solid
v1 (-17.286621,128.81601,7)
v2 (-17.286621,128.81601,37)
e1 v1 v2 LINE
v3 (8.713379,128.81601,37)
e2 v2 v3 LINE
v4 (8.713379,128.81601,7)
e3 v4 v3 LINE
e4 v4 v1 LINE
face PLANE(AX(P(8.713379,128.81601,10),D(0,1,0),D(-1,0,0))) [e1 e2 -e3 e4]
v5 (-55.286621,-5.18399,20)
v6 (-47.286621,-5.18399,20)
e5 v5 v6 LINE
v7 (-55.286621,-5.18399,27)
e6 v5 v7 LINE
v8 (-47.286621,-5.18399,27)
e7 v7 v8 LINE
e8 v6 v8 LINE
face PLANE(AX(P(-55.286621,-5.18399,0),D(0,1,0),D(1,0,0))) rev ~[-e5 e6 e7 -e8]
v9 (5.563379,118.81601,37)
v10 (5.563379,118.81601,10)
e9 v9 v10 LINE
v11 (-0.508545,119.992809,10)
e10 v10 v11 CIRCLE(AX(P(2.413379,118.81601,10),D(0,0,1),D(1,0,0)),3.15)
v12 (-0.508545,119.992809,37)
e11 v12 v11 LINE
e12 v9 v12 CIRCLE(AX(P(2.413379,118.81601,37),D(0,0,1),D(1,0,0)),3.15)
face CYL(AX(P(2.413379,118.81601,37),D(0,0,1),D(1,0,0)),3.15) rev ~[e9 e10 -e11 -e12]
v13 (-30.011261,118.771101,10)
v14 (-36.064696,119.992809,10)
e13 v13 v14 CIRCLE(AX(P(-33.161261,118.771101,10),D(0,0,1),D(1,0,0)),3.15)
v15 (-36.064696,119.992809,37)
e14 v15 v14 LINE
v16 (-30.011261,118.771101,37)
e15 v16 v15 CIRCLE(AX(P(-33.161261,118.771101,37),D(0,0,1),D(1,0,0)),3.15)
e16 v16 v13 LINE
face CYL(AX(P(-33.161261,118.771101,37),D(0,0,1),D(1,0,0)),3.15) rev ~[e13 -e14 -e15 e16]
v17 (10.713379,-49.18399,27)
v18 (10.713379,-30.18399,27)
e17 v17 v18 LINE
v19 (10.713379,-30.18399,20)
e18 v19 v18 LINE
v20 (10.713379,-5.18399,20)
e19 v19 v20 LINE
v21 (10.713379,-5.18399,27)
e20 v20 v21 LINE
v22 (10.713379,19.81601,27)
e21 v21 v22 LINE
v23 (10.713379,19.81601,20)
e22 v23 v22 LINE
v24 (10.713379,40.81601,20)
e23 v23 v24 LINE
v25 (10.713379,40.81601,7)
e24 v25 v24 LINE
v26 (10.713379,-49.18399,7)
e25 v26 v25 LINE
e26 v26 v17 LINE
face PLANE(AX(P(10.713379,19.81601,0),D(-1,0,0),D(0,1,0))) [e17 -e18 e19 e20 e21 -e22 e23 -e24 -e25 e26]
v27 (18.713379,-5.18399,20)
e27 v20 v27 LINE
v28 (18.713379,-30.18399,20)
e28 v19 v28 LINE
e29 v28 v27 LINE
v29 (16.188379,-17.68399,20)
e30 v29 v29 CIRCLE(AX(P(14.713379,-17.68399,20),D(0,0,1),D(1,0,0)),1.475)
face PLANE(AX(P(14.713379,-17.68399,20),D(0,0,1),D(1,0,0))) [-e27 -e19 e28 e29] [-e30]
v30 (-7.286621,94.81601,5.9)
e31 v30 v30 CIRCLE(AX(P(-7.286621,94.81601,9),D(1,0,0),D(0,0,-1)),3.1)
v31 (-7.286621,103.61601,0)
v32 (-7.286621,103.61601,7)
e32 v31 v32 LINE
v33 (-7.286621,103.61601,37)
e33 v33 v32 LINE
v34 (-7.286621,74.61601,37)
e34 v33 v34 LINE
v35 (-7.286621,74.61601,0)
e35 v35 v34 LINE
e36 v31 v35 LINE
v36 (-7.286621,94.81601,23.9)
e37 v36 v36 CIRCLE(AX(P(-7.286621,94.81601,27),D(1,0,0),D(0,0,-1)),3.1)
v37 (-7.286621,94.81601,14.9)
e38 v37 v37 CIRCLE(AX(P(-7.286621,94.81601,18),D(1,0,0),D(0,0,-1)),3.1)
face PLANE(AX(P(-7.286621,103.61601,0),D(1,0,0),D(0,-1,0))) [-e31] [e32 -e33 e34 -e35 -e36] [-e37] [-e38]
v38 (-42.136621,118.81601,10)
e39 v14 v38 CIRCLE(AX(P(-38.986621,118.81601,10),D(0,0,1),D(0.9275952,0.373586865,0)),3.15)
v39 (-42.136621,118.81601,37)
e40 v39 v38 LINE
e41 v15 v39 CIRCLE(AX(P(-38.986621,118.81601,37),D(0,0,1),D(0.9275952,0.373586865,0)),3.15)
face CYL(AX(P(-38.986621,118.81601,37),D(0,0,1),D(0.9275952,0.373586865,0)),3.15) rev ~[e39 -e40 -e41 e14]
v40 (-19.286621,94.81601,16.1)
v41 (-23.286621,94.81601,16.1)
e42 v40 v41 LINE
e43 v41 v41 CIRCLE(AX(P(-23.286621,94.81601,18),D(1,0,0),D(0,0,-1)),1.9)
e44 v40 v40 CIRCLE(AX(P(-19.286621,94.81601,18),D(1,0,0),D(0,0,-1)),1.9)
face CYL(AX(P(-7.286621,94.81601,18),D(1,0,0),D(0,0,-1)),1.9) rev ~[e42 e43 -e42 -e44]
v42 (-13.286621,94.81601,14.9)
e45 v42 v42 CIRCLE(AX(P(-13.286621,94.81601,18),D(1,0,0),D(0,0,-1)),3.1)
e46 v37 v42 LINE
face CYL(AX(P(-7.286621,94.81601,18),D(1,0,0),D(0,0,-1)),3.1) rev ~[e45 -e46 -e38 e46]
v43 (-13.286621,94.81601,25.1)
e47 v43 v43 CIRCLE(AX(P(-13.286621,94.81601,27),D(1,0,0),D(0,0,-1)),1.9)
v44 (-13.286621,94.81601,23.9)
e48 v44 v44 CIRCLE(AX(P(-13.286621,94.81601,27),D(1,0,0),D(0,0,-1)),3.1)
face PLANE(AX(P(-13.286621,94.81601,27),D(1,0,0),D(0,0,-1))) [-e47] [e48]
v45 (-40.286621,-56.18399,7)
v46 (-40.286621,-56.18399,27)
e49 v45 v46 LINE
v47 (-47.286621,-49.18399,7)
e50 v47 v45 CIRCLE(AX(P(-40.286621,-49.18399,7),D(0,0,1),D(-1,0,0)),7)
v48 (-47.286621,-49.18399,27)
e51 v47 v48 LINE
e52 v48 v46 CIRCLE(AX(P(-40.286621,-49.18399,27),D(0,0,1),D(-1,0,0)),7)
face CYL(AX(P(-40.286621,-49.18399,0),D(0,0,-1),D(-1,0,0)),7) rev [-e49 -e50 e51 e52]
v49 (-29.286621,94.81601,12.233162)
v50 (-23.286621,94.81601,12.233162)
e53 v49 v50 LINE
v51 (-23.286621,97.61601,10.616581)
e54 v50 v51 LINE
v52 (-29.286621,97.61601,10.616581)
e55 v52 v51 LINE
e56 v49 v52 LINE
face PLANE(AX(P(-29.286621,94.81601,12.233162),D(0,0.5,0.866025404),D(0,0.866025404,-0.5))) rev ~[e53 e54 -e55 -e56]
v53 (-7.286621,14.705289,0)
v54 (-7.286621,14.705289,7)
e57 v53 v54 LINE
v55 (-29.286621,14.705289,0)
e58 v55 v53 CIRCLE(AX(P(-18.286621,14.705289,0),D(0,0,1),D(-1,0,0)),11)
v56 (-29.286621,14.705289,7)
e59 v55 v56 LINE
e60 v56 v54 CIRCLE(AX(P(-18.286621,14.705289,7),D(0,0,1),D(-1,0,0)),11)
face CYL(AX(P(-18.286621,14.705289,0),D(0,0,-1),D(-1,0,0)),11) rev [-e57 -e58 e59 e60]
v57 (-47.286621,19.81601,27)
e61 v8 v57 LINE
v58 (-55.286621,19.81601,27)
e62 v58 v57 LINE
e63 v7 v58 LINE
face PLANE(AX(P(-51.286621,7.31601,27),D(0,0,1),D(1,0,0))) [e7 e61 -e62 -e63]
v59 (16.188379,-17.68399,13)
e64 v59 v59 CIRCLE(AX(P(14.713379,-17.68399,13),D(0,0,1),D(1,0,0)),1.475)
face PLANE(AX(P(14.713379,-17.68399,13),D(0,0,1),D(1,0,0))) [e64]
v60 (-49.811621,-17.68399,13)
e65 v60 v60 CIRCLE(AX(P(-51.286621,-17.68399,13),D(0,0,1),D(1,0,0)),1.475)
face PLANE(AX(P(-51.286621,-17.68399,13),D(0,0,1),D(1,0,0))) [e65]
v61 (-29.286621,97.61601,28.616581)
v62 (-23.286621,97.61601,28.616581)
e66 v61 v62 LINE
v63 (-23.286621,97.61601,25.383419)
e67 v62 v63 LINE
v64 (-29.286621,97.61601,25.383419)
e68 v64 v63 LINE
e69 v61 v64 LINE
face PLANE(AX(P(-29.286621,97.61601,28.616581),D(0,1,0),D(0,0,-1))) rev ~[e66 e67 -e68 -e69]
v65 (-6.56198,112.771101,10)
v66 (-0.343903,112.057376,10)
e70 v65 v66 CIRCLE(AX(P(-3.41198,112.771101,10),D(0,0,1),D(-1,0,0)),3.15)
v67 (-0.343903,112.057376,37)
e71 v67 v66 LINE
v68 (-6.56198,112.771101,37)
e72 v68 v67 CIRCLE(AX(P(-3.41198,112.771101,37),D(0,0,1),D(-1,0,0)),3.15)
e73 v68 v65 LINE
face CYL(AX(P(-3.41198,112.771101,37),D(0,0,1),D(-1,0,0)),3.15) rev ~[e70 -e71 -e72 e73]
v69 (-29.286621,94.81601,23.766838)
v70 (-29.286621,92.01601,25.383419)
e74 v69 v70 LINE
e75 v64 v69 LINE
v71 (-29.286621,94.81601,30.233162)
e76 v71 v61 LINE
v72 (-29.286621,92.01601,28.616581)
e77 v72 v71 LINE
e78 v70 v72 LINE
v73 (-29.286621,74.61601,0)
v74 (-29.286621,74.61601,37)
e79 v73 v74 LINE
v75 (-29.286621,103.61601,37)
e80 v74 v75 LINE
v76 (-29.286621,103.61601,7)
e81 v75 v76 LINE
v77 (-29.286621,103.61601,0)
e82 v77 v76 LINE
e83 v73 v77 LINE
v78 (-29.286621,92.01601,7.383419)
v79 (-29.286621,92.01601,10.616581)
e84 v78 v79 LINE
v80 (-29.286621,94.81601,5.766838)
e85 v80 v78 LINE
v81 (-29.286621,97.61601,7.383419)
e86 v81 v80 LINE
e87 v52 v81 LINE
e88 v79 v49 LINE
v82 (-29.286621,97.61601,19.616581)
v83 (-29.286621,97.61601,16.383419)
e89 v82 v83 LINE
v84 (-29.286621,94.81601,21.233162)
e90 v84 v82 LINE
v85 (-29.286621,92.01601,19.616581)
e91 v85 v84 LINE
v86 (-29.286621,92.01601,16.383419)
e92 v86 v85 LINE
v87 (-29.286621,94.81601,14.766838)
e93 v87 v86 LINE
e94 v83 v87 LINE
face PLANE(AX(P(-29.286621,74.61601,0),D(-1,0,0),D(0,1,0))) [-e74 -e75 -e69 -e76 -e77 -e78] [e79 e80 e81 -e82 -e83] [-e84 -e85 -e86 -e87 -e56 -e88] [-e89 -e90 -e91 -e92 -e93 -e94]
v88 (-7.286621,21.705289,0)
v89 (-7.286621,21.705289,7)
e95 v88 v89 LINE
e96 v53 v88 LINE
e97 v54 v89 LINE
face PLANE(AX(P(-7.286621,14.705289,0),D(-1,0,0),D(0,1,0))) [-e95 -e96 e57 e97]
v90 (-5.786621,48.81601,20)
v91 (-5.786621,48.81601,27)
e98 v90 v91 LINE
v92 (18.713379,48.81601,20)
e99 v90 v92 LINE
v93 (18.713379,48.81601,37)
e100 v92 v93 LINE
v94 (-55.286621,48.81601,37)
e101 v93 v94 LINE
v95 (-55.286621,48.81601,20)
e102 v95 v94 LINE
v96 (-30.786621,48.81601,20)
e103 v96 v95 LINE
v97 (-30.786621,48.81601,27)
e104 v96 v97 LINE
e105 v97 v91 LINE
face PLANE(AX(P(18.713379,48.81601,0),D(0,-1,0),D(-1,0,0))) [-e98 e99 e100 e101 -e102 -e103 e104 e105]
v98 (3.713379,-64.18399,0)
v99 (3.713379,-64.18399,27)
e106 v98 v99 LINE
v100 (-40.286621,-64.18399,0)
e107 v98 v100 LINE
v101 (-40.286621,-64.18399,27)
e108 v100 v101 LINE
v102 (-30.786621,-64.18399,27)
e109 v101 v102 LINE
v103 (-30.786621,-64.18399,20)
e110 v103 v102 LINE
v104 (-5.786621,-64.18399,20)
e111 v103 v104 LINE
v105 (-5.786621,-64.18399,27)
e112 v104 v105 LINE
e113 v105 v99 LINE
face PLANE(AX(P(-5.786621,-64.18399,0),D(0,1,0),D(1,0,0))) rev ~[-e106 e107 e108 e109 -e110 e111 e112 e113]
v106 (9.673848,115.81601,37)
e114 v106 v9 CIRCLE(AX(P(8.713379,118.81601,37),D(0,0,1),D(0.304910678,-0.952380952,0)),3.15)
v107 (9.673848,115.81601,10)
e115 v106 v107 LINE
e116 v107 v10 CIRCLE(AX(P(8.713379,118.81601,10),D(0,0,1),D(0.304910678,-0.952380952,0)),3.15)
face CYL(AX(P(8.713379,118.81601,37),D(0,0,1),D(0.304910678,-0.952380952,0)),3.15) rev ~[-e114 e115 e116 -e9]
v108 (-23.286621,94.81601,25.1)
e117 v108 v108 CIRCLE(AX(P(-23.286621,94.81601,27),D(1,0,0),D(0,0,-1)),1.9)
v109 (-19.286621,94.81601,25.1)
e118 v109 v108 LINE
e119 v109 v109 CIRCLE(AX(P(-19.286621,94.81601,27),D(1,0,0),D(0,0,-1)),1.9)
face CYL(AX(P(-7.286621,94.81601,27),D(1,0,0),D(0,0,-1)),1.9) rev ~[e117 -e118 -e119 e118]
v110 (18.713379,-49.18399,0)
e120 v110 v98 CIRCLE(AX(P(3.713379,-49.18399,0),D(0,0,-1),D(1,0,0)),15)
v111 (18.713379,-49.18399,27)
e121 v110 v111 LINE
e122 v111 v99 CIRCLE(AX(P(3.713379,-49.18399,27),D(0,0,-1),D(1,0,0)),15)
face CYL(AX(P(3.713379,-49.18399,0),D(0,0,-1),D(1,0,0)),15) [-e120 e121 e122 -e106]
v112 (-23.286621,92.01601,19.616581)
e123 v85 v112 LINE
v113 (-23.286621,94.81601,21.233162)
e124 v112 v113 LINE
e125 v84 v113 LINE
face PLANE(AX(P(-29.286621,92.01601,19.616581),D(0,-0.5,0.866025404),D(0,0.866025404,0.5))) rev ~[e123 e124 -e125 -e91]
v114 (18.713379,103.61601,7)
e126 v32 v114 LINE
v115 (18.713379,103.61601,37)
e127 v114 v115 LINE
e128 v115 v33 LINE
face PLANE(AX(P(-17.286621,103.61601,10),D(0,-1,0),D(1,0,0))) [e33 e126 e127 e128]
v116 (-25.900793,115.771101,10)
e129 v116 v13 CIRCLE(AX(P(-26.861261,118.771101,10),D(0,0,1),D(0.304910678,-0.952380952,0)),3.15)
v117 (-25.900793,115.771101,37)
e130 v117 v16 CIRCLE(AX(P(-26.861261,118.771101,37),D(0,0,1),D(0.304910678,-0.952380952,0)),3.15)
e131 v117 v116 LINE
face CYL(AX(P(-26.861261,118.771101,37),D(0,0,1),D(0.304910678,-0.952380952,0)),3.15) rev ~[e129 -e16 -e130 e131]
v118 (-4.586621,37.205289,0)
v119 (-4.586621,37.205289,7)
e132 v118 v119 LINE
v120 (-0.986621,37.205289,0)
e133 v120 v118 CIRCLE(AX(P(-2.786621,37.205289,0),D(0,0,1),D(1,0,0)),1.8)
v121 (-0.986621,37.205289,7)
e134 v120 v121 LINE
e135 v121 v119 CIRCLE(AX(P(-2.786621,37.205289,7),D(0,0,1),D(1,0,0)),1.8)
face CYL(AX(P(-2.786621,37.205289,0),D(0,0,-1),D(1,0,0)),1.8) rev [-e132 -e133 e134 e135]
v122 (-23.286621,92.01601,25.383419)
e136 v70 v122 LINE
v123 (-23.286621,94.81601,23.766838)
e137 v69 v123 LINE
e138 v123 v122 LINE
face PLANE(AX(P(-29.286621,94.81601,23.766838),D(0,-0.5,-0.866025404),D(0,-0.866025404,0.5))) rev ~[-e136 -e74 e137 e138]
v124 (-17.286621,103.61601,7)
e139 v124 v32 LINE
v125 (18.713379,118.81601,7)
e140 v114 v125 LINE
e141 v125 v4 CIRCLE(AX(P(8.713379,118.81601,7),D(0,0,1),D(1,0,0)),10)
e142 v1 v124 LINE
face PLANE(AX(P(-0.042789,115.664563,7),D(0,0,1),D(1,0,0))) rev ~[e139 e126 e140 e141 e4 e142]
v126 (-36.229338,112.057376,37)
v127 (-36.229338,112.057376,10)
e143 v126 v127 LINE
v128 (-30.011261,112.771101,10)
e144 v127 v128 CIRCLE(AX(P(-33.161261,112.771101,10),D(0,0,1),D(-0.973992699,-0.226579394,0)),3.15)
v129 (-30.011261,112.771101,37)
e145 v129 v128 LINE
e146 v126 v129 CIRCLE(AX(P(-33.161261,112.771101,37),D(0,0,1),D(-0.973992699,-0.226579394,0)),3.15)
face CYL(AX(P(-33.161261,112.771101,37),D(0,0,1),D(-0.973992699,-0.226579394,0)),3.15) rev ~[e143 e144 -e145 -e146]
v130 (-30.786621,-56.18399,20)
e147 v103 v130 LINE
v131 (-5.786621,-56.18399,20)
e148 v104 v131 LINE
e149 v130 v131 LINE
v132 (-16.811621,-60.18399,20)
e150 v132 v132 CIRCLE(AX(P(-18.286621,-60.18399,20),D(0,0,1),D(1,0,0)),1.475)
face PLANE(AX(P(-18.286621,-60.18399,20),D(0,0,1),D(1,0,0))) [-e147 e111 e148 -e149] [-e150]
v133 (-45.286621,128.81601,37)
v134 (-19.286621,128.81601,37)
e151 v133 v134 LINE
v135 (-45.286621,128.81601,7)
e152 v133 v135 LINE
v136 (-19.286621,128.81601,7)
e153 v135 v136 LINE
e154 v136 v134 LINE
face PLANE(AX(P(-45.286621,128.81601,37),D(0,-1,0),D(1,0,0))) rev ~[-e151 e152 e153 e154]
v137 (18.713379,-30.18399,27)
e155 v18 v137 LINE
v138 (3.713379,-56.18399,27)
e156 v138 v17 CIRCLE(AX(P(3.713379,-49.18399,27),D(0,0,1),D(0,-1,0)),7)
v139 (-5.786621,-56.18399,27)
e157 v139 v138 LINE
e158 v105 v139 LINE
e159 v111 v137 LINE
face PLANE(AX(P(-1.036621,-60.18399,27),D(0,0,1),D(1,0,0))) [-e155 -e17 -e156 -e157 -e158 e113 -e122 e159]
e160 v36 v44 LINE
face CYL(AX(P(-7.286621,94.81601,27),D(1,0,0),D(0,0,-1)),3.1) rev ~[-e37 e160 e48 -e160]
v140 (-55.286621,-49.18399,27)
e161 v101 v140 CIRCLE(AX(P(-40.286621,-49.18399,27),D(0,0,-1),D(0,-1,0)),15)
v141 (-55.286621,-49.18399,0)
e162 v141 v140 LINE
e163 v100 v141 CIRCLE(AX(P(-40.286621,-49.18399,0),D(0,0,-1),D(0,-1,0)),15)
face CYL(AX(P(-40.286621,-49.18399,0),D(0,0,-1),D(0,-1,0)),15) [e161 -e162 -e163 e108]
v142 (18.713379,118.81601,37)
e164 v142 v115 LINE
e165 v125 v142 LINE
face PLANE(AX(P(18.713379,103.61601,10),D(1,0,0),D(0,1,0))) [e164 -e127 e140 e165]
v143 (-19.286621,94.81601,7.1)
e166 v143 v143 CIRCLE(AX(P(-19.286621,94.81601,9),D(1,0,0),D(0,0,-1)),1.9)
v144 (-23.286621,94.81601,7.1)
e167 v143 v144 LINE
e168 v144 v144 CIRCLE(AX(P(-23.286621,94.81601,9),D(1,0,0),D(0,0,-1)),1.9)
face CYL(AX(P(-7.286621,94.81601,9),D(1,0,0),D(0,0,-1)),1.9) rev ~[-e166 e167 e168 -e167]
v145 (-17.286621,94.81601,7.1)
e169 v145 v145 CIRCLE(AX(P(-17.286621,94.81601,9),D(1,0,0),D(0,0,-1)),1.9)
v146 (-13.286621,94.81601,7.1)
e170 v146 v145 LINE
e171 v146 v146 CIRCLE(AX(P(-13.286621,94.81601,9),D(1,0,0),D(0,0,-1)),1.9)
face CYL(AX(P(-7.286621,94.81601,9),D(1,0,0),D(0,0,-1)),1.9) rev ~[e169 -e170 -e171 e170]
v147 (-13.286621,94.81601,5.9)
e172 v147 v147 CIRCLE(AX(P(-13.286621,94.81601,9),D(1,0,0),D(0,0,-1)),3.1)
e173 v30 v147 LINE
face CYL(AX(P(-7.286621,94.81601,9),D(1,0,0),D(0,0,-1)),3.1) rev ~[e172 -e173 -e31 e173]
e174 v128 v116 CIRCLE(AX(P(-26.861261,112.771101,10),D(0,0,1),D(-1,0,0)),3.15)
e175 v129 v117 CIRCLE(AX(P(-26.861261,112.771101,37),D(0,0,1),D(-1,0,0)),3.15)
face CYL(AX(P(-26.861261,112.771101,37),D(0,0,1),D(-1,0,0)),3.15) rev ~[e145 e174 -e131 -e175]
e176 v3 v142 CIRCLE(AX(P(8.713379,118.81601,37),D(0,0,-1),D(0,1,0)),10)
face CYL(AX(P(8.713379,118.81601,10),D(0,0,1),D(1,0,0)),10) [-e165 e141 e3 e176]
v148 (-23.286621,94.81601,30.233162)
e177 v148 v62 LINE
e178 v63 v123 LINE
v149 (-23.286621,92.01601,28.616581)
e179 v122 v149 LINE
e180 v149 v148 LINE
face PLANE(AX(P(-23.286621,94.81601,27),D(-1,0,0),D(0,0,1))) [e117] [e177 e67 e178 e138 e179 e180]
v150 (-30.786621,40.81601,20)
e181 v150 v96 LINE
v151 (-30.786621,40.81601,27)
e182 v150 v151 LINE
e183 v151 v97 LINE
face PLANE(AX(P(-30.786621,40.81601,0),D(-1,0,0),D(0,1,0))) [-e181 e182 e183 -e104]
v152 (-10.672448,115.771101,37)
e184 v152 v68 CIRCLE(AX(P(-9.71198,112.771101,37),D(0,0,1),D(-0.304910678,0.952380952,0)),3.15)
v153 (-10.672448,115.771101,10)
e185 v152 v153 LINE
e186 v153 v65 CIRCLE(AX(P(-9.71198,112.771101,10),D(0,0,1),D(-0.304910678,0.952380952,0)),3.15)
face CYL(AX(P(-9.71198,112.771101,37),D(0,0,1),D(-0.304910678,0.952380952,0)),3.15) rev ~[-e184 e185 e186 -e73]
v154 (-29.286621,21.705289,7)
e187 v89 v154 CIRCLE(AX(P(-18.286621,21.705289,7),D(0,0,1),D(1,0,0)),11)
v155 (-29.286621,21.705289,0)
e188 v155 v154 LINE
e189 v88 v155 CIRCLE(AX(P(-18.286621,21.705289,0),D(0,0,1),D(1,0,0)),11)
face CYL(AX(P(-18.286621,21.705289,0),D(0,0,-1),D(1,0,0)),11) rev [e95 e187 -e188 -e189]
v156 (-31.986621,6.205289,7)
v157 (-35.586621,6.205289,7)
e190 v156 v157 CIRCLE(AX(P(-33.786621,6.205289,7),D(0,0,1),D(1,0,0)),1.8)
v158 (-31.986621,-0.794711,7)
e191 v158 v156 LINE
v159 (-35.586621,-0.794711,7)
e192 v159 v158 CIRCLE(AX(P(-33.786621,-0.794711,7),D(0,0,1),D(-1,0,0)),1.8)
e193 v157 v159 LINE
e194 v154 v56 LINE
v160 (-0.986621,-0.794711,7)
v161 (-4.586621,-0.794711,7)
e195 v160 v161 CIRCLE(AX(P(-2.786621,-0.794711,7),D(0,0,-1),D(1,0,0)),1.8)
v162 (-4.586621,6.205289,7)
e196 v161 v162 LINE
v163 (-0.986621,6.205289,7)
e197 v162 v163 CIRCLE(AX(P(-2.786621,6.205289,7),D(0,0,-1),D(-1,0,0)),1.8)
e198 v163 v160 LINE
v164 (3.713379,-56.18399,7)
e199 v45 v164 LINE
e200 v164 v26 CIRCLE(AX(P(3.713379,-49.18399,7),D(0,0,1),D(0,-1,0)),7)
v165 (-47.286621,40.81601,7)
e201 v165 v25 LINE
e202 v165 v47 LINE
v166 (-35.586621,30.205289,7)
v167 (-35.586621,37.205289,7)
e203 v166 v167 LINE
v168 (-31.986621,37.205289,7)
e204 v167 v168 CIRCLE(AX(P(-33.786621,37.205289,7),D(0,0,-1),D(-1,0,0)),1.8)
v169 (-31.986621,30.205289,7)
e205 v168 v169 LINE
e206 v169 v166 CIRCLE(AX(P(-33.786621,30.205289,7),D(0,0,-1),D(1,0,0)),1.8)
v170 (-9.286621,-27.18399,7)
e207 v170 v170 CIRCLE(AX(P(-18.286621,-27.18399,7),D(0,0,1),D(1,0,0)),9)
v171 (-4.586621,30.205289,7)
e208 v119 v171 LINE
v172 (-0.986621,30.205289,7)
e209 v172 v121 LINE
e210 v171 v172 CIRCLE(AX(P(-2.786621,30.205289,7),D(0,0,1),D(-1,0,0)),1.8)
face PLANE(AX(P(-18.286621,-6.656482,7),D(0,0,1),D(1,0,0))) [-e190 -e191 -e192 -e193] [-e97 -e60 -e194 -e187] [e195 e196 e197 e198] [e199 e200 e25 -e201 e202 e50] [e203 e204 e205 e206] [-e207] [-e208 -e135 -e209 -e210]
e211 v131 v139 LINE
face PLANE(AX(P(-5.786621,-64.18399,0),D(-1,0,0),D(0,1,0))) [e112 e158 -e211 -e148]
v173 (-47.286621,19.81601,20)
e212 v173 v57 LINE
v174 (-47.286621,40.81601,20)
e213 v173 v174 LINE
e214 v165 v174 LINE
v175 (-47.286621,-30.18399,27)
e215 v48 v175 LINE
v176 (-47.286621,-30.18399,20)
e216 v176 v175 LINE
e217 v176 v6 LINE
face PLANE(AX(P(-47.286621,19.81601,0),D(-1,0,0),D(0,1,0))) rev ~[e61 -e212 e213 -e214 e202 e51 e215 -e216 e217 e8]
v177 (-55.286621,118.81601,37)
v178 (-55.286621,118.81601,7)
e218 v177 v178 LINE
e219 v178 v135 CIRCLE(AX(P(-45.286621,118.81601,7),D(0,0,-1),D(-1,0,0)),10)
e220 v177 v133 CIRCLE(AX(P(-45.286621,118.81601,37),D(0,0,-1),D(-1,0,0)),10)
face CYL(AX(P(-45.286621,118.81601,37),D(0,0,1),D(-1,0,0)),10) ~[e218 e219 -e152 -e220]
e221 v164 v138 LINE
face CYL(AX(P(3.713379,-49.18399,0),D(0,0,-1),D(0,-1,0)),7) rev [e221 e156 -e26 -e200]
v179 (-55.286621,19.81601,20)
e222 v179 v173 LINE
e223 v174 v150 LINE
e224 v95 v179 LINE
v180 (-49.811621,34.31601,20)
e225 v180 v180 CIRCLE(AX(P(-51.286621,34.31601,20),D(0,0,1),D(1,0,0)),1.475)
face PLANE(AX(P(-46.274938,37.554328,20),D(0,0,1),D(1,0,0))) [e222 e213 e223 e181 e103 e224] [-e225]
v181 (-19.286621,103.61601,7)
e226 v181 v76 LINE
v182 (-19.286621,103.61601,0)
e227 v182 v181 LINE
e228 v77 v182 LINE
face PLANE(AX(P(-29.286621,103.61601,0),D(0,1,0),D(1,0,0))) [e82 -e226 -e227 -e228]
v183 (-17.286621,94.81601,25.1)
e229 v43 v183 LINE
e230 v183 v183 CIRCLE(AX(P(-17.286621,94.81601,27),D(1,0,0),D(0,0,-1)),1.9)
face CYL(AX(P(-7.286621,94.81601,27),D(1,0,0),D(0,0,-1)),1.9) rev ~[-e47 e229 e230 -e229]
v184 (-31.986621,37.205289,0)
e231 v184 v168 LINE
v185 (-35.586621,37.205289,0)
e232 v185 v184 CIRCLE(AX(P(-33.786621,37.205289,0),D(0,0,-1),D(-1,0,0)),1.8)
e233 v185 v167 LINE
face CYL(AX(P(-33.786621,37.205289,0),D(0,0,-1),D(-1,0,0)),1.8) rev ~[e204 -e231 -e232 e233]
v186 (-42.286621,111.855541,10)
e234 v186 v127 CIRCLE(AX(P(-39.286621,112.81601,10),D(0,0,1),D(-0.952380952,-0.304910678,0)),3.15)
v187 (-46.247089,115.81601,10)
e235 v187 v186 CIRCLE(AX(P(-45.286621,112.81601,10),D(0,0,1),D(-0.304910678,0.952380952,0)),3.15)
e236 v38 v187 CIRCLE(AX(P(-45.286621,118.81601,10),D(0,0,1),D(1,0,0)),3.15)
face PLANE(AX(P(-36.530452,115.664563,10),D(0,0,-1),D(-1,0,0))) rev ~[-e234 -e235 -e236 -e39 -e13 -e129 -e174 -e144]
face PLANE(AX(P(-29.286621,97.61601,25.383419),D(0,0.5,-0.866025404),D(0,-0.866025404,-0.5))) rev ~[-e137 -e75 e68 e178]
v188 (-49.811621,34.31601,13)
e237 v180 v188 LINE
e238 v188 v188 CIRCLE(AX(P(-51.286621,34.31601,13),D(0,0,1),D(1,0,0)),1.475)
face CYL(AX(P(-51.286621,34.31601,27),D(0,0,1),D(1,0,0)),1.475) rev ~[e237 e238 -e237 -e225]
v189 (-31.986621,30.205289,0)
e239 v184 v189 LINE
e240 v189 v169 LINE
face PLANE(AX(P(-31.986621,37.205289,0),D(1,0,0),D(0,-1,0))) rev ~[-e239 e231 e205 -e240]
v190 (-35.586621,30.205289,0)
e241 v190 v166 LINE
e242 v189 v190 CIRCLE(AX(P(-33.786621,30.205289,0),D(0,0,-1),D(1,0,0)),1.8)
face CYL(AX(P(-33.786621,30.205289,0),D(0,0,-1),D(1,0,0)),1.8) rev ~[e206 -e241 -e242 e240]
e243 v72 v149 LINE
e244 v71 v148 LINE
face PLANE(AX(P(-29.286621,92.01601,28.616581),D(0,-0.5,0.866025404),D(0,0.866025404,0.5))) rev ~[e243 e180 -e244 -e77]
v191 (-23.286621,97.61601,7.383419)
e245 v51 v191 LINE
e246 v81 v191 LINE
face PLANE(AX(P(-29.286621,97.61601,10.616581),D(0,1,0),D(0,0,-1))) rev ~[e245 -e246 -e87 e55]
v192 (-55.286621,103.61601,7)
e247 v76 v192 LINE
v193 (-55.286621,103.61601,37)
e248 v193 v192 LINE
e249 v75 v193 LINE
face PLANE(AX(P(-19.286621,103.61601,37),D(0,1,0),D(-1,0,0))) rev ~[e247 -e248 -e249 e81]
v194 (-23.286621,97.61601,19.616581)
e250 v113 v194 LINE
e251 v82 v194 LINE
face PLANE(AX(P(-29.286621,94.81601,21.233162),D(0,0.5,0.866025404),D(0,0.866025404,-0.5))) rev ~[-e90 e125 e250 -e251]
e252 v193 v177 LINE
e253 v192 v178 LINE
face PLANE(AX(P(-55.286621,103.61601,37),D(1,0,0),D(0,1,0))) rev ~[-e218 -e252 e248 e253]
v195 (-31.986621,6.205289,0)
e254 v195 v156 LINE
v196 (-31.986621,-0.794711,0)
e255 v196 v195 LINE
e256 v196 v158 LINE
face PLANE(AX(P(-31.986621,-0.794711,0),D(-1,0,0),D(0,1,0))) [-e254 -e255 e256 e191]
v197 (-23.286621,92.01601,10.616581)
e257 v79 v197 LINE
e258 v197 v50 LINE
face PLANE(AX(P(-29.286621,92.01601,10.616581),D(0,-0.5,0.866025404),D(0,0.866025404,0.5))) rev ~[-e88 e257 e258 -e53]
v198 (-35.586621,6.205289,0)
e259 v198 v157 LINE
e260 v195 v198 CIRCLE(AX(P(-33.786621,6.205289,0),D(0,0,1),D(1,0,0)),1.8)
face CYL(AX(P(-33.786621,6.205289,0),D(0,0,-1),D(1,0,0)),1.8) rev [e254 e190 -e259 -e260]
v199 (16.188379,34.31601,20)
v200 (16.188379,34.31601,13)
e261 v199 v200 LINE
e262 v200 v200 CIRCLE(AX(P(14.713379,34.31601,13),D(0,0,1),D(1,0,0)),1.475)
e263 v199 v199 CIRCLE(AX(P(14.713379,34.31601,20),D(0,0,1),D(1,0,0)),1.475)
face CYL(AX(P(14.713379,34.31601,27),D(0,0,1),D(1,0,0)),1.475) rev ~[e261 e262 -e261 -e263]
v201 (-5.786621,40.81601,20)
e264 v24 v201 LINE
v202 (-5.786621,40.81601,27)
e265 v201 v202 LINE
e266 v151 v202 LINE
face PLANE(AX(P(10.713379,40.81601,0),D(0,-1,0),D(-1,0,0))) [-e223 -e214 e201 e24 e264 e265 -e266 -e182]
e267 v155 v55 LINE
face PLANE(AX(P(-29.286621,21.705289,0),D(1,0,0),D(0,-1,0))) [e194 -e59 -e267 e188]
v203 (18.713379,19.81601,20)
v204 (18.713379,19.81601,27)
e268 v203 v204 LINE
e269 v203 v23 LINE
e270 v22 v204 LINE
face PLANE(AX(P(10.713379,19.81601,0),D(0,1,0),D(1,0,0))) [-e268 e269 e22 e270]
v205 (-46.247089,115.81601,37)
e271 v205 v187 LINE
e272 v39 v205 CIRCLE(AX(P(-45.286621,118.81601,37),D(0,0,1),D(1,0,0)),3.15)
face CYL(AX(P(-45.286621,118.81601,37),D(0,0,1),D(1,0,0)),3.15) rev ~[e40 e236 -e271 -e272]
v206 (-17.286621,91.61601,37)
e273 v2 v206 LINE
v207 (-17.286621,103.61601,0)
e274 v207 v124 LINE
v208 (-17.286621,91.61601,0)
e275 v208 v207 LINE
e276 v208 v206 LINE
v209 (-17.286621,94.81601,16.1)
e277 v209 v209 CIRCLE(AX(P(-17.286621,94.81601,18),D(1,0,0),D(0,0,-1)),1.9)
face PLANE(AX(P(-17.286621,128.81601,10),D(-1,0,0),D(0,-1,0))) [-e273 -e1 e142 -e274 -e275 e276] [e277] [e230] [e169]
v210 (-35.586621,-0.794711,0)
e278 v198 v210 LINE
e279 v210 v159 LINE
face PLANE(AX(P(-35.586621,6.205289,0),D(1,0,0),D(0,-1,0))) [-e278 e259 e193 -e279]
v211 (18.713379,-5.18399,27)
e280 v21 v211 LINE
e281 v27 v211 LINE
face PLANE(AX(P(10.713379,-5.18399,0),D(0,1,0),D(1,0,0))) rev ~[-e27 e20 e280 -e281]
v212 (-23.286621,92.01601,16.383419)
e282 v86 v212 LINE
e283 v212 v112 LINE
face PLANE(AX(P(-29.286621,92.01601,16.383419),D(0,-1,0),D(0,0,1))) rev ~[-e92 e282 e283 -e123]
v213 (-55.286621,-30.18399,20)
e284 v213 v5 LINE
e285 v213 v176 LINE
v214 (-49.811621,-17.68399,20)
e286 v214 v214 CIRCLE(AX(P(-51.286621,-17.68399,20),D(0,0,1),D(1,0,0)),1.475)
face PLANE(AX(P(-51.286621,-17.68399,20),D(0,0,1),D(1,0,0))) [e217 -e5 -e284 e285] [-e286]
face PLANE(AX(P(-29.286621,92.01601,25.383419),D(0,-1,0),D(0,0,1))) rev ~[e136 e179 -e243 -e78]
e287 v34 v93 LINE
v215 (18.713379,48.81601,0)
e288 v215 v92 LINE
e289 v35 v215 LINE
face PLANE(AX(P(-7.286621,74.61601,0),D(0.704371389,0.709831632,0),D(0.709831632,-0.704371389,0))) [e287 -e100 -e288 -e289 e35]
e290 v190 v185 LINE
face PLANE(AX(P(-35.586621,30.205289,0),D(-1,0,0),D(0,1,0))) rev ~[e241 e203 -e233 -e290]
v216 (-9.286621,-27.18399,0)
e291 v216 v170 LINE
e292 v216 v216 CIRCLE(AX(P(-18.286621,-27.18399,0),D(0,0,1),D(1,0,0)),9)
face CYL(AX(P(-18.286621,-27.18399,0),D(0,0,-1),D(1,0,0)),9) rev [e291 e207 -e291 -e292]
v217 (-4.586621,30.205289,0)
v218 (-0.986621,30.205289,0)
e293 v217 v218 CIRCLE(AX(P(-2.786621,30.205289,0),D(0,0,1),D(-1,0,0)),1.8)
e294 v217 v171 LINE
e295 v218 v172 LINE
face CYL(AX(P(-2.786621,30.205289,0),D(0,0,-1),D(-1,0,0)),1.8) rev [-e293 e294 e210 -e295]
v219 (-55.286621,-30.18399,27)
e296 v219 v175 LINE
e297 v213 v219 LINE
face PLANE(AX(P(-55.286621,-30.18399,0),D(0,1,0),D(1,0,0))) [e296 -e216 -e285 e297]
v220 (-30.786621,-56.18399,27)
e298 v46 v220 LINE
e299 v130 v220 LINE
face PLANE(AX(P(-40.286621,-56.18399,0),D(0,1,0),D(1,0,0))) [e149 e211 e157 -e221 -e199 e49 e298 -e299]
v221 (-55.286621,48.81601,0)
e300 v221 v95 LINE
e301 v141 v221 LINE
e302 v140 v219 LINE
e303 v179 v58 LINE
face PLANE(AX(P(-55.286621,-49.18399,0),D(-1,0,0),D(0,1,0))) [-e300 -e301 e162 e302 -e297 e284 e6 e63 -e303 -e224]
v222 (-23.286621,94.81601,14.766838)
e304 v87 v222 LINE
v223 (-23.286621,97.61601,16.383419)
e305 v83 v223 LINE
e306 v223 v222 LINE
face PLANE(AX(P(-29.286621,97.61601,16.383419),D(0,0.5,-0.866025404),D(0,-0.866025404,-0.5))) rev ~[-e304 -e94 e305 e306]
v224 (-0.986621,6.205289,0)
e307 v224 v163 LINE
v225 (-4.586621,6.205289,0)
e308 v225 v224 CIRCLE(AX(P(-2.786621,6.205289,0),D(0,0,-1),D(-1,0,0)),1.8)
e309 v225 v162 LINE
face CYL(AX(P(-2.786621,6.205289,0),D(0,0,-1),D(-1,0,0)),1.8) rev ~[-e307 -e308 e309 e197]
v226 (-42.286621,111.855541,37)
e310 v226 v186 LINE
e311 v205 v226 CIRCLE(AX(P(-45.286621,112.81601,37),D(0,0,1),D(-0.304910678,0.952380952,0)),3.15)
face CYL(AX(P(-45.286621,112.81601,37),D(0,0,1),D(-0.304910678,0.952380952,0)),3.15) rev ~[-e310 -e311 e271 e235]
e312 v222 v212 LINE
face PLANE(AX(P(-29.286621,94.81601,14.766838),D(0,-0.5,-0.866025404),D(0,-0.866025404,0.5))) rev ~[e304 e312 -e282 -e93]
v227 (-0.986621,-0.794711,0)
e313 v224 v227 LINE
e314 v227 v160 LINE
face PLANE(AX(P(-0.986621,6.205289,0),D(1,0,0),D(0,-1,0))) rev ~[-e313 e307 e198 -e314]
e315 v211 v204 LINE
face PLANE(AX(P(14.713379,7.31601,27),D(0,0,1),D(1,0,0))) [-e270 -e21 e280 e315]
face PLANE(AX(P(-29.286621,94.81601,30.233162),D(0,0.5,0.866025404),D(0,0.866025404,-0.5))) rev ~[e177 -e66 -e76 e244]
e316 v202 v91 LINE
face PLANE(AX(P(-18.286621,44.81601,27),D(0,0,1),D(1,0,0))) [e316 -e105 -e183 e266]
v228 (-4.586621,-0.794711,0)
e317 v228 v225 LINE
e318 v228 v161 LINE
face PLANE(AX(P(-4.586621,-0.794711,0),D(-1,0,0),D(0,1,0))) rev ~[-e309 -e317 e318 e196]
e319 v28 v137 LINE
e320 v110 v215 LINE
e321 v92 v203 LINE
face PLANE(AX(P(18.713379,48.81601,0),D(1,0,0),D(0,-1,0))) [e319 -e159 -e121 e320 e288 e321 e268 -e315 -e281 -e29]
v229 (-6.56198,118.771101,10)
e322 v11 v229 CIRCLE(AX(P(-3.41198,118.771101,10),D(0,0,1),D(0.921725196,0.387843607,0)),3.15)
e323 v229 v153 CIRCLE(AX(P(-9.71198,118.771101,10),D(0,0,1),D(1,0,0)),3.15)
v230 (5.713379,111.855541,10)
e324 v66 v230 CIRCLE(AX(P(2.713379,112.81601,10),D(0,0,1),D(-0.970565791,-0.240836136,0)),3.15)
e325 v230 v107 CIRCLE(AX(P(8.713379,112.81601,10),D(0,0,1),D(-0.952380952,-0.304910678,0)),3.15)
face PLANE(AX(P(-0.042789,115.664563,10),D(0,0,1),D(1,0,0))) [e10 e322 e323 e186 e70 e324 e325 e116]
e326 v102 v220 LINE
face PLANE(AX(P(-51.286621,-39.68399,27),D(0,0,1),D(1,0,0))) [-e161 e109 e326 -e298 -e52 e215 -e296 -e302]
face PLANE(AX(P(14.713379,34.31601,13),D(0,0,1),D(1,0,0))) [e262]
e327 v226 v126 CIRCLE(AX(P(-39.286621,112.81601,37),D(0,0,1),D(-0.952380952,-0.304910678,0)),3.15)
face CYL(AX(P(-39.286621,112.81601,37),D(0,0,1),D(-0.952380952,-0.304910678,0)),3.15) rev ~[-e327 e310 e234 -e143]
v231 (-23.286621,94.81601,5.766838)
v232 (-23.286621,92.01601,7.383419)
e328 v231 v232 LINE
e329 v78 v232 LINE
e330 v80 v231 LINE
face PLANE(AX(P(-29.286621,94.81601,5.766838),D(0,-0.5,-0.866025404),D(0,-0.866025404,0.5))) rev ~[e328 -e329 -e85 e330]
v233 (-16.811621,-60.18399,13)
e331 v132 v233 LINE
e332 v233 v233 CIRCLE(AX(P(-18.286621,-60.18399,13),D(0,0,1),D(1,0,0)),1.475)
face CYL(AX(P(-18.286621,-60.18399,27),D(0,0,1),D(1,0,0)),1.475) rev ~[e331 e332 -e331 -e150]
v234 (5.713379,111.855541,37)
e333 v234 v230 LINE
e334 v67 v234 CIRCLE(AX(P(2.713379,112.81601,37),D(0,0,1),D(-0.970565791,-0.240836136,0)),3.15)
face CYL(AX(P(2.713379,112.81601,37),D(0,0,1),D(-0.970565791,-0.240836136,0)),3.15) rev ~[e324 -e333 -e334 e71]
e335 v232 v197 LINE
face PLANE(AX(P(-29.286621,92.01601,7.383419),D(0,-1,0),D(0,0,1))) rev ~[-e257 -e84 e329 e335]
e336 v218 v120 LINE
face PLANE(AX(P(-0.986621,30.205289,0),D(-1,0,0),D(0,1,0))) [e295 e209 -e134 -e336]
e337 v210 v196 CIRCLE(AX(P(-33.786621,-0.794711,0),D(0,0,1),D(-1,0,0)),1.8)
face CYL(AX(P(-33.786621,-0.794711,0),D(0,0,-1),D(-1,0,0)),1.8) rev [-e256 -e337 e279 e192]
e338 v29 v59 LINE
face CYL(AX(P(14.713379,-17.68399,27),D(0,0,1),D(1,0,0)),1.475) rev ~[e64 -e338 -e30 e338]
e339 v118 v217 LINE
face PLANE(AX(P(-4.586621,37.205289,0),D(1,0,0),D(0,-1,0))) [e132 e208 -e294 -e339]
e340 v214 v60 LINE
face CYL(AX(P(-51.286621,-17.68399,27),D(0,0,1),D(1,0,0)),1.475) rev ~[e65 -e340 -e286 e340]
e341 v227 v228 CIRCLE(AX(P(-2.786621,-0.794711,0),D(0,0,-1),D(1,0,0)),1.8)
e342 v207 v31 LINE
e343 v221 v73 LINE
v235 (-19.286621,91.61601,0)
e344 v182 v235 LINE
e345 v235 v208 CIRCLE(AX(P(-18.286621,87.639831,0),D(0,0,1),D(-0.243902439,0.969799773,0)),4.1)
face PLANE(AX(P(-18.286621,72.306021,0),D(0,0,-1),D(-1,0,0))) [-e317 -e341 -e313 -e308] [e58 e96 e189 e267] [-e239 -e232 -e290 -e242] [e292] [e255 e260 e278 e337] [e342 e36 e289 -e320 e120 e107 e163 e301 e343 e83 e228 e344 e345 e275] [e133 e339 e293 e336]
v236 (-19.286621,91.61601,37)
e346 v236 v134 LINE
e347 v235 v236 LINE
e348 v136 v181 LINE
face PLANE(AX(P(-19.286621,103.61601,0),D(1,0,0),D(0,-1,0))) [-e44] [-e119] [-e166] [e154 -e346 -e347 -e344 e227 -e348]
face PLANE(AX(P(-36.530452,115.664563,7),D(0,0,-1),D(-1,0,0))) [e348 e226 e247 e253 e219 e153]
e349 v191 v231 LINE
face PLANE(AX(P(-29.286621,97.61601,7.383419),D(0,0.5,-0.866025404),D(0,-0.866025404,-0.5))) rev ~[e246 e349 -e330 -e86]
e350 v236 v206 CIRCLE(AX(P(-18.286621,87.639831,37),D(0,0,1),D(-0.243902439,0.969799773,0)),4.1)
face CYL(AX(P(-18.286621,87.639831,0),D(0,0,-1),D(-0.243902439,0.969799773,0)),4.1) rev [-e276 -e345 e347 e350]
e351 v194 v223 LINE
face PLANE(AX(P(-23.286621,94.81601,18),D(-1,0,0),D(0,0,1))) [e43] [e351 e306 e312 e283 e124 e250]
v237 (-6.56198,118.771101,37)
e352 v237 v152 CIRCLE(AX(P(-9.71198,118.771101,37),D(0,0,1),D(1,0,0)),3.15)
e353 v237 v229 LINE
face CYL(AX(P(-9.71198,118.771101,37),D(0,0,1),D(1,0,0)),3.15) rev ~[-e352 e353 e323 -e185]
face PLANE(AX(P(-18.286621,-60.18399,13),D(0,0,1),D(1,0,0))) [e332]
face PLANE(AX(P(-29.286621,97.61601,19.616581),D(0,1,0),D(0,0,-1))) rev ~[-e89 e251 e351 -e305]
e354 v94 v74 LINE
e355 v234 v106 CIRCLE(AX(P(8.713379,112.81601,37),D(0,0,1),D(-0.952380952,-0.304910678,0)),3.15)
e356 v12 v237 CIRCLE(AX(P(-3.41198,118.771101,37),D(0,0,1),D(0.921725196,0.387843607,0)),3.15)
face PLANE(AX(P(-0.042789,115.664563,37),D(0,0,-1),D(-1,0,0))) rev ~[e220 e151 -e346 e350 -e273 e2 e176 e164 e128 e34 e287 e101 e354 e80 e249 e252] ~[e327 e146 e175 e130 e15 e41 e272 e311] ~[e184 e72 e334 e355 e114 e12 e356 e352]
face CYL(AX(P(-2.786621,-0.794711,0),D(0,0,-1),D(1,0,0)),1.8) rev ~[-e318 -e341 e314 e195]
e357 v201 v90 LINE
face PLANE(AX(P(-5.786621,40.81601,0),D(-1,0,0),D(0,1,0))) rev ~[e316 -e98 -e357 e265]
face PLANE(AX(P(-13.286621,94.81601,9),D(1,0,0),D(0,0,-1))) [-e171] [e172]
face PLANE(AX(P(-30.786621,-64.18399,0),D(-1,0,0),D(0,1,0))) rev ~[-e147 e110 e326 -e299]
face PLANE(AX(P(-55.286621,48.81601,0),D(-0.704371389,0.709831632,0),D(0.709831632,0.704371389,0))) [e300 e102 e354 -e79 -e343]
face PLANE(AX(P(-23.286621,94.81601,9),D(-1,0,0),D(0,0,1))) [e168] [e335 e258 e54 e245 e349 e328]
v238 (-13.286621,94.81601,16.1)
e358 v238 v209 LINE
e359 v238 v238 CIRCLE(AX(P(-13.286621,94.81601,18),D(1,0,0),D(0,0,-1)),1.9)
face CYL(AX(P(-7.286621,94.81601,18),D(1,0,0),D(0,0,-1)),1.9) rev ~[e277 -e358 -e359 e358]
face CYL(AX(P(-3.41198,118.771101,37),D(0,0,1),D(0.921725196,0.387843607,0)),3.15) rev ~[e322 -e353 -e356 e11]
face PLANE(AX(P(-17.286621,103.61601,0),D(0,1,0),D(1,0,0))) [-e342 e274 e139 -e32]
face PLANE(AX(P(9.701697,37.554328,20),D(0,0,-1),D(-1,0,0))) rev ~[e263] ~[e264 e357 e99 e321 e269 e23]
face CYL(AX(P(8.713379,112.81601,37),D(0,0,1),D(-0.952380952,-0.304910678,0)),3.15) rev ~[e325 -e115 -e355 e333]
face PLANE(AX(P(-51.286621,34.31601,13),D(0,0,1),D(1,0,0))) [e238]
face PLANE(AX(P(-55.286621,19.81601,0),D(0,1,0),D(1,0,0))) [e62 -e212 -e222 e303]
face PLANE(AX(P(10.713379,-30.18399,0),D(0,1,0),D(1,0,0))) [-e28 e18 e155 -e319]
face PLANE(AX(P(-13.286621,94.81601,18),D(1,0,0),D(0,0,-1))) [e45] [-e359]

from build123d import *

# Parameters (mm, degrees)
CROQUIS2_R               = 9
SALIENTE_EXTRUIR1_DEPTH  = 7
CROQUIS2_7_W             = 25
CROQUIS2_7_H             = 8
CROQUIS2_7_W_2           = 8
CROQUIS2_7_H_2           = 25
SALIENTE_EXTRUIR3_DEPTH  = 27
CROQUIS2_12_W            = 8
CROQUIS2_12_H            = 25
CROQUIS2_12_W_2          = 25
CROQUIS2_12_H_2          = 8
SALIENTE_EXTRUIR4_DEPTH  = 20
SALIENTE_EXTRUIR5_DEPTH  = 37
CROQUIS4_R               = 1.475
CORTAR_EXTRUIR2_DEPTH    = 14
CROQUIS10_R              = 1.9
CORTAR_EXTRUIR3_DEPTH    = 22
CROQUIS11_R              = 3.1
CORTAR_EXTRUIR4_DEPTH    = 6
CORTAR_EXTRUIR5_DEPTH    = 6
SALIENTE_EXTRUIR10_DEPTH = 27
SALIENTE_EXTRUIR12_DEPTH = 3


with BuildPart() as part:
    # Croquis2 → Saliente-Extruir1 (new body)
    with BuildSketch(Plane.XY):
        with BuildLine():
            Line((-5.786620614, 40.816010109), (-30.786620614, 40.816010109))
            Line((-30.786620614, 40.816010109), (-47.286620614, 40.816010109))
            Line((-47.286620614, 40.816010109), (-47.286620614, 19.816010109))
            Line((-47.286620614, 19.816010109), (-47.286620614, -5.183989891))
            Line((-47.286620614, -5.183989891), (-47.286620614, -30.183989891))
            Line((-47.286620614, -30.183989891), (-47.286620614, -49.183989891))
            ThreePointArc((-47.286620614, -49.183989891), (-45.236368082, -54.133737359), (-40.286620614, -56.183989891))
            Line((-40.286620614, -56.183989891), (-30.786620614, -56.183989891))
            Line((-30.786620614, -56.183989891), (-5.786620614, -56.183989891))
            Line((-5.786620614, -56.183989891), (3.713379386, -56.183989891))
            ThreePointArc((3.713379386, -56.183989891), (8.663126854, -54.133737359), (10.713379386, -49.183989891))
            Line((10.713379386, -49.183989891), (10.713379386, -30.183989891))
            Line((10.713379386, -30.183989891), (10.713379386, -5.183989891))
            Line((10.713379386, -5.183989891), (10.713379386, 19.816010109))
            Line((10.713379386, 19.816010109), (10.713379386, 40.816010109))
            Line((10.713379386, 40.816010109), (-5.786620614, 40.816010109))
        make_face()
        with Locations((-18.286620614, -27.183989891)):
            Circle(CROQUIS2_R, mode=Mode.SUBTRACT)
        with BuildLine():
            ThreePointArc((-35.586620614, 6.205288522), (-33.786620614, 8.005288522), (-31.986620614, 6.205288522))
            Line((-31.986620614, 6.205288522), (-31.986620614, -0.794711478))
            ThreePointArc((-31.986620614, -0.794711478), (-33.786620614, -2.594711478), (-35.586620614, -0.794711478))
            Line((-35.586620614, -0.794711478), (-35.586620614, 6.205288522))
        make_face(mode=Mode.SUBTRACT)
        with BuildLine():
            ThreePointArc((-29.286620614, 21.705288522), (-18.286620614, 32.705288522), (-7.286620614, 21.705288522))
            Line((-7.286620614, 21.705288522), (-7.286620614, 14.705288522))
            ThreePointArc((-7.286620614, 14.705288522), (-18.286620614, 3.705288522), (-29.286620614, 14.705288522))
            Line((-29.286620614, 14.705288522), (-29.286620614, 21.705288522))
        make_face(mode=Mode.SUBTRACT)
        with BuildLine():
            ThreePointArc((-4.586620614, 6.205288522), (-2.786620614, 8.005288522), (-0.986620614, 6.205288522))
            Line((-0.986620614, 6.205288522), (-0.986620614, -0.794711478))
            ThreePointArc((-0.986620614, -0.794711478), (-2.786620614, -2.594711478), (-4.586620614, -0.794711478))
            Line((-4.586620614, -0.794711478), (-4.586620614, 6.205288522))
        make_face(mode=Mode.SUBTRACT)
        with BuildLine():
            ThreePointArc((-31.986620614, 30.205288522), (-33.786620614, 28.405288522), (-35.586620614, 30.205288522))
            Line((-35.586620614, 30.205288522), (-35.586620614, 37.205288522))
            ThreePointArc((-35.586620614, 37.205288522), (-33.786620614, 39.005288522), (-31.986620614, 37.205288522))
            Line((-31.986620614, 37.205288522), (-31.986620614, 30.205288522))
        make_face(mode=Mode.SUBTRACT)
        with BuildLine():
            ThreePointArc((-0.986620614, 30.205288522), (-2.786620614, 28.405288522), (-4.586620614, 30.205288522))
            Line((-4.586620614, 30.205288522), (-4.586620614, 37.205288522))
            ThreePointArc((-4.586620614, 37.205288522), (-2.786620614, 39.005288522), (-0.986620614, 37.205288522))
            Line((-0.986620614, 37.205288522), (-0.986620614, 30.205288522))
        make_face(mode=Mode.SUBTRACT)
    extrude(amount=SALIENTE_EXTRUIR1_DEPTH)

    # Croquis2<7> → Saliente-Extruir3 (add)
    with BuildSketch(Plane.XY):
        with Locations((-18.286620614, 44.816010109)):
            Rectangle(CROQUIS2_7_W, CROQUIS2_7_H)
        with Locations((-51.286620614, 7.316010109)):
            Rectangle(CROQUIS2_7_W_2, CROQUIS2_7_H_2)
        with Locations((14.713379386, 7.316010109)):
            Rectangle(CROQUIS2_7_W_2, CROQUIS2_7_H_2)
        with BuildLine():
            Line((-47.286620614, -30.183989891), (-55.286620614, -30.183989891))
            Line((-55.286620614, -30.183989891), (-55.286620614, -49.183989891))
            ThreePointArc((-55.286620614, -49.183989891), (-50.893222332, -59.790591609), (-40.286620614, -64.183989891))
            Line((-40.286620614, -64.183989891), (-30.786620614, -64.183989891))
            Line((-30.786620614, -64.183989891), (-30.786620614, -56.183989891))
            Line((-30.786620614, -56.183989891), (-40.286620614, -56.183989891))
            ThreePointArc((-40.286620614, -56.183989891), (-45.236368082, -54.133737359), (-47.286620614, -49.183989891))
            Line((-47.286620614, -49.183989891), (-47.286620614, -30.183989891))
        make_face()
        with BuildLine():
            Line((18.713379386, -49.183989891), (18.713379386, -30.183989891))
            Line((18.713379386, -30.183989891), (10.713379386, -30.183989891))
            Line((10.713379386, -30.183989891), (10.713379386, -49.183989891))
            ThreePointArc((10.713379386, -49.183989891), (8.663126854, -54.133737359), (3.713379386, -56.183989891))
            Line((3.713379386, -56.183989891), (-5.786620614, -56.183989891))
            Line((-5.786620614, -56.183989891), (-5.786620614, -64.183989891))
            Line((-5.786620614, -64.183989891), (3.713379386, -64.183989891))
            ThreePointArc((3.713379386, -64.183989891), (14.319981104, -59.790591609), (18.713379386, -49.183989891))
        make_face()
    extrude(amount=SALIENTE_EXTRUIR3_DEPTH)

    # Croquis2<12> → Saliente-Extruir4 (add)
    with BuildSketch(Plane.XY):
        Polygon((-30.786620614, 40.816010109), (-30.786620614, 48.816010109), (-55.286620614, 48.816010109), (-55.286620614, 19.816010109), (-47.286620614, 19.816010109), (-47.286620614, 40.816010109), align=None)
        Polygon((18.713379386, 48.816010109), (-5.786620614, 48.816010109), (-5.786620614, 40.816010109), (10.713379386, 40.816010109), (10.713379386, 19.816010109), (18.713379386, 19.816010109), align=None)
        with Locations((-51.286620614, -17.683989891)):
            Rectangle(CROQUIS2_12_W, CROQUIS2_12_H)
        with Locations((14.713379386, -17.683989891)):
            Rectangle(CROQUIS2_12_W, CROQUIS2_12_H)
        with Locations((-18.286620614, -60.183989891)):
            Rectangle(CROQUIS2_12_W_2, CROQUIS2_12_H_2)
    extrude(amount=SALIENTE_EXTRUIR4_DEPTH)

    # Croquis2<14> → Saliente-Extruir5 (add)
    with BuildSketch(Plane.XY):
        with BuildLine():
            Line((-55.286620614, 48.816010109), (-30.786620614, 48.816010109))
            Line((-30.786620614, 48.816010109), (-5.786620614, 48.816010109))
            Line((-5.786620614, 48.816010109), (18.713379386, 48.816010109))
            Line((18.713379386, 48.816010109), (-7.286620614, 74.616010109))
            Line((-7.286620614, 74.616010109), (-7.286620614, 103.616010109))
            Line((-7.286620614, 103.616010109), (-17.286620614, 103.616010109))
            Line((-17.286620614, 103.616010109), (-17.286620614, 91.616010109))
            ThreePointArc((-17.286620614, 91.616010109), (-18.286620614, 83.539831039), (-19.286620614, 91.616010109))
            Line((-19.286620614, 91.616010109), (-19.286620614, 103.616010109))
            Line((-19.286620614, 103.616010109), (-29.286620614, 103.616010109))
            Line((-29.286620614, 103.616010109), (-29.286620614, 74.616010109))
            Line((-29.286620614, 74.616010109), (-55.286620614, 48.816010109))
        make_face()
    extrude(amount=SALIENTE_EXTRUIR5_DEPTH)

    # Croquis4 → Cortar-Extruir2 (cut)
    with BuildSketch(Plane.XY.offset(27)):
        with Locations((-51.286620614, 34.316010109)):
            Circle(CROQUIS4_R)
        with Locations((-51.286620614, -17.683989891)):
            Circle(CROQUIS4_R)
        with Locations((-18.286620614, -60.183989891)):
            Circle(CROQUIS4_R)
        with Locations((14.713379386, -17.683989891)):
            Circle(CROQUIS4_R)
        with Locations((14.713379386, 34.316010109)):
            Circle(CROQUIS4_R)
    extrude(amount=-CORTAR_EXTRUIR2_DEPTH, mode=Mode.SUBTRACT)

    # Croquis10 → Cortar-Extruir3 (cut)
    with BuildSketch(Plane(origin=(-7.286620614, 0, 0), x_dir=(0, 0, -1), z_dir=(1, 0, 0))):
        with Locations((-9, 94.816010109)):
            Circle(CROQUIS10_R)
        with Locations((-18, 94.816010109)):
            Circle(CROQUIS10_R)
        with Locations((-27, 94.816010109)):
            Circle(CROQUIS10_R)
    extrude(amount=-CORTAR_EXTRUIR3_DEPTH, mode=Mode.SUBTRACT)

    # Croquis11 → Cortar-Extruir4 (cut)
    with BuildSketch(Plane(origin=(-7.286620614, 0, 0), x_dir=(0, 0, -1), z_dir=(1, 0, 0))):
        with Locations((-27, 94.816010109)):
            Circle(CROQUIS11_R)
        with Locations((-18, 94.816010109)):
            Circle(CROQUIS11_R)
        with Locations((-9, 94.816010109)):
            Circle(CROQUIS11_R)
    extrude(amount=-CORTAR_EXTRUIR4_DEPTH, mode=Mode.SUBTRACT)

    # Croquis12 → Cortar-Extruir5 (cut)
    with BuildSketch(Plane.ZY.offset(29.286620614)):
        Polygon((21.233161507, 94.816010109), (19.616580754, 97.616010109), (16.383419246, 97.616010109), (14.766838493, 94.816010109), (16.383419246, 92.016010109), (19.616580754, 92.016010109), align=None)
        Polygon((12.233161507, 94.816010109), (10.616580754, 97.616010109), (7.383419246, 97.616010109), (5.766838493, 94.816010109), (7.383419246, 92.016010109), (10.616580754, 92.016010109), align=None)
        Polygon((30.233161507, 94.816010109), (28.616580754, 97.616010109), (25.383419246, 97.616010109), (23.766838493, 94.816010109), (25.383419246, 92.016010109), (28.616580754, 92.016010109), align=None)
    extrude(amount=-CORTAR_EXTRUIR5_DEPTH, mode=Mode.SUBTRACT)

    # Croquis13 → Saliente-Extruir10 (add)
    # profile 1 of 2: a face of its own
    with BuildSketch(Plane(origin=(0, 0, 37), x_dir=(-1, 0, 0), z_dir=(0, 0, -1))):
        with BuildLine():
            Line((-18.713379386, 103.616010109), (17.286620614, 103.616010109))
            Line((17.286620614, 103.616010109), (17.286620614, 128.816010109))
            Line((17.286620614, 128.816010109), (-8.713379386, 128.816010109))
            ThreePointArc((-8.713379386, 128.816010109), (-15.784447198, 125.887077921), (-18.713379386, 118.816010109))
            Line((-18.713379386, 118.816010109), (-18.713379386, 103.616010109))
        make_face()
        with BuildLine():
            ThreePointArc((-9.673848022, 115.816010109), (-10.570396322, 121.360413399), (-5.563379386, 118.816010109))
            ThreePointArc((-5.563379386, 118.816010109), (-3.012727628, 121.908465717), (0.508545493, 119.992808733))
            ThreePointArc((0.508545493, 119.992808733), (4.035149879, 121.858844743), (6.56197986, 118.771101371))
            ThreePointArc((6.56197986, 118.771101371), (11.568996795, 121.315504661), (10.672448495, 115.771101371))
            ThreePointArc((10.672448495, 115.771101371), (11.568996795, 110.226698081), (6.56197986, 112.771101371))
            ThreePointArc((6.56197986, 112.771101371), (3.77118554, 109.641649138), (0.343902857, 112.05737628))
            ThreePointArc((0.343902857, 112.05737628), (-2.608476402, 109.667757361), (-5.713379386, 111.855541474))
            ThreePointArc((-5.713379386, 111.855541474), (-10.940765747, 110.588623748), (-9.673848022, 115.816010109))
        make_face(mode=Mode.SUBTRACT)
    # profile 2 of 2: a face of its own
    with BuildSketch(Plane(origin=(0, 0, 37), x_dir=(-1, 0, 0), z_dir=(0, 0, -1))):
        with BuildLine():
            Line((19.286620614, 128.816010109), (19.286620614, 103.616010109))
            Line((19.286620614, 103.616010109), (55.286620614, 103.616010109))
            Line((55.286620614, 103.616010109), (55.286620614, 118.816010109))
            ThreePointArc((55.286620614, 118.816010109), (52.357688426, 125.887077921), (45.286620614, 128.816010109))
            Line((45.286620614, 128.816010109), (19.286620614, 128.816010109))
        make_face()
        with BuildLine():
            ThreePointArc((36.229338371, 112.05737628), (32.802055688, 109.641649138), (30.011261368, 112.771101371))
            ThreePointArc((30.011261368, 112.771101371), (25.004244432, 110.226698081), (25.900792732, 115.771101371))
            ThreePointArc((25.900792732, 115.771101371), (25.004244432, 121.315504661), (30.011261368, 118.771101371))
            ThreePointArc((30.011261368, 118.771101371), (32.538091349, 121.858844743), (36.064695735, 119.992808733))
            ThreePointArc((36.064695735, 119.992808733), (39.585968856, 121.908465717), (42.136620614, 118.816010109))
            ThreePointArc((42.136620614, 118.816010109), (47.143637549, 121.360413399), (46.24708925, 115.816010109))
            ThreePointArc((46.24708925, 115.816010109), (47.514006975, 110.588623748), (42.286620614, 111.855541474))
            ThreePointArc((42.286620614, 111.855541474), (39.181717629, 109.667757361), (36.229338371, 112.05737628))
        make_face(mode=Mode.SUBTRACT)
    extrude(amount=SALIENTE_EXTRUIR10_DEPTH)

    # Croquis15 → Saliente-Extruir12 (add)
    with BuildSketch(Plane(origin=(0, 0, 10), x_dir=(-1, 0, 0), z_dir=(0, 0, -1))):
        with BuildLine():
            Line((17.286620614, 103.616010109), (17.286620614, 128.816010109))
            Line((17.286620614, 128.816010109), (-8.713379386, 128.816010109))
            ThreePointArc((-8.713379386, 128.816010109), (-15.784447198, 125.887077921), (-18.713379386, 118.816010109))
            Line((-18.713379386, 118.816010109), (-18.713379386, 103.616010109))
            Line((-18.713379386, 103.616010109), (17.286620614, 103.616010109))
        make_face()
        with BuildLine():
            Line((19.286620614, 103.616010109), (55.286620614, 103.616010109))
            Line((55.286620614, 103.616010109), (55.286620614, 118.816010109))
            ThreePointArc((55.286620614, 118.816010109), (52.357688426, 125.887077921), (45.286620614, 128.816010109))
            Line((45.286620614, 128.816010109), (19.286620614, 128.816010109))
            Line((19.286620614, 128.816010109), (19.286620614, 103.616010109))
        make_face()
    extrude(amount=SALIENTE_EXTRUIR12_DEPTH)


solid = part.part
